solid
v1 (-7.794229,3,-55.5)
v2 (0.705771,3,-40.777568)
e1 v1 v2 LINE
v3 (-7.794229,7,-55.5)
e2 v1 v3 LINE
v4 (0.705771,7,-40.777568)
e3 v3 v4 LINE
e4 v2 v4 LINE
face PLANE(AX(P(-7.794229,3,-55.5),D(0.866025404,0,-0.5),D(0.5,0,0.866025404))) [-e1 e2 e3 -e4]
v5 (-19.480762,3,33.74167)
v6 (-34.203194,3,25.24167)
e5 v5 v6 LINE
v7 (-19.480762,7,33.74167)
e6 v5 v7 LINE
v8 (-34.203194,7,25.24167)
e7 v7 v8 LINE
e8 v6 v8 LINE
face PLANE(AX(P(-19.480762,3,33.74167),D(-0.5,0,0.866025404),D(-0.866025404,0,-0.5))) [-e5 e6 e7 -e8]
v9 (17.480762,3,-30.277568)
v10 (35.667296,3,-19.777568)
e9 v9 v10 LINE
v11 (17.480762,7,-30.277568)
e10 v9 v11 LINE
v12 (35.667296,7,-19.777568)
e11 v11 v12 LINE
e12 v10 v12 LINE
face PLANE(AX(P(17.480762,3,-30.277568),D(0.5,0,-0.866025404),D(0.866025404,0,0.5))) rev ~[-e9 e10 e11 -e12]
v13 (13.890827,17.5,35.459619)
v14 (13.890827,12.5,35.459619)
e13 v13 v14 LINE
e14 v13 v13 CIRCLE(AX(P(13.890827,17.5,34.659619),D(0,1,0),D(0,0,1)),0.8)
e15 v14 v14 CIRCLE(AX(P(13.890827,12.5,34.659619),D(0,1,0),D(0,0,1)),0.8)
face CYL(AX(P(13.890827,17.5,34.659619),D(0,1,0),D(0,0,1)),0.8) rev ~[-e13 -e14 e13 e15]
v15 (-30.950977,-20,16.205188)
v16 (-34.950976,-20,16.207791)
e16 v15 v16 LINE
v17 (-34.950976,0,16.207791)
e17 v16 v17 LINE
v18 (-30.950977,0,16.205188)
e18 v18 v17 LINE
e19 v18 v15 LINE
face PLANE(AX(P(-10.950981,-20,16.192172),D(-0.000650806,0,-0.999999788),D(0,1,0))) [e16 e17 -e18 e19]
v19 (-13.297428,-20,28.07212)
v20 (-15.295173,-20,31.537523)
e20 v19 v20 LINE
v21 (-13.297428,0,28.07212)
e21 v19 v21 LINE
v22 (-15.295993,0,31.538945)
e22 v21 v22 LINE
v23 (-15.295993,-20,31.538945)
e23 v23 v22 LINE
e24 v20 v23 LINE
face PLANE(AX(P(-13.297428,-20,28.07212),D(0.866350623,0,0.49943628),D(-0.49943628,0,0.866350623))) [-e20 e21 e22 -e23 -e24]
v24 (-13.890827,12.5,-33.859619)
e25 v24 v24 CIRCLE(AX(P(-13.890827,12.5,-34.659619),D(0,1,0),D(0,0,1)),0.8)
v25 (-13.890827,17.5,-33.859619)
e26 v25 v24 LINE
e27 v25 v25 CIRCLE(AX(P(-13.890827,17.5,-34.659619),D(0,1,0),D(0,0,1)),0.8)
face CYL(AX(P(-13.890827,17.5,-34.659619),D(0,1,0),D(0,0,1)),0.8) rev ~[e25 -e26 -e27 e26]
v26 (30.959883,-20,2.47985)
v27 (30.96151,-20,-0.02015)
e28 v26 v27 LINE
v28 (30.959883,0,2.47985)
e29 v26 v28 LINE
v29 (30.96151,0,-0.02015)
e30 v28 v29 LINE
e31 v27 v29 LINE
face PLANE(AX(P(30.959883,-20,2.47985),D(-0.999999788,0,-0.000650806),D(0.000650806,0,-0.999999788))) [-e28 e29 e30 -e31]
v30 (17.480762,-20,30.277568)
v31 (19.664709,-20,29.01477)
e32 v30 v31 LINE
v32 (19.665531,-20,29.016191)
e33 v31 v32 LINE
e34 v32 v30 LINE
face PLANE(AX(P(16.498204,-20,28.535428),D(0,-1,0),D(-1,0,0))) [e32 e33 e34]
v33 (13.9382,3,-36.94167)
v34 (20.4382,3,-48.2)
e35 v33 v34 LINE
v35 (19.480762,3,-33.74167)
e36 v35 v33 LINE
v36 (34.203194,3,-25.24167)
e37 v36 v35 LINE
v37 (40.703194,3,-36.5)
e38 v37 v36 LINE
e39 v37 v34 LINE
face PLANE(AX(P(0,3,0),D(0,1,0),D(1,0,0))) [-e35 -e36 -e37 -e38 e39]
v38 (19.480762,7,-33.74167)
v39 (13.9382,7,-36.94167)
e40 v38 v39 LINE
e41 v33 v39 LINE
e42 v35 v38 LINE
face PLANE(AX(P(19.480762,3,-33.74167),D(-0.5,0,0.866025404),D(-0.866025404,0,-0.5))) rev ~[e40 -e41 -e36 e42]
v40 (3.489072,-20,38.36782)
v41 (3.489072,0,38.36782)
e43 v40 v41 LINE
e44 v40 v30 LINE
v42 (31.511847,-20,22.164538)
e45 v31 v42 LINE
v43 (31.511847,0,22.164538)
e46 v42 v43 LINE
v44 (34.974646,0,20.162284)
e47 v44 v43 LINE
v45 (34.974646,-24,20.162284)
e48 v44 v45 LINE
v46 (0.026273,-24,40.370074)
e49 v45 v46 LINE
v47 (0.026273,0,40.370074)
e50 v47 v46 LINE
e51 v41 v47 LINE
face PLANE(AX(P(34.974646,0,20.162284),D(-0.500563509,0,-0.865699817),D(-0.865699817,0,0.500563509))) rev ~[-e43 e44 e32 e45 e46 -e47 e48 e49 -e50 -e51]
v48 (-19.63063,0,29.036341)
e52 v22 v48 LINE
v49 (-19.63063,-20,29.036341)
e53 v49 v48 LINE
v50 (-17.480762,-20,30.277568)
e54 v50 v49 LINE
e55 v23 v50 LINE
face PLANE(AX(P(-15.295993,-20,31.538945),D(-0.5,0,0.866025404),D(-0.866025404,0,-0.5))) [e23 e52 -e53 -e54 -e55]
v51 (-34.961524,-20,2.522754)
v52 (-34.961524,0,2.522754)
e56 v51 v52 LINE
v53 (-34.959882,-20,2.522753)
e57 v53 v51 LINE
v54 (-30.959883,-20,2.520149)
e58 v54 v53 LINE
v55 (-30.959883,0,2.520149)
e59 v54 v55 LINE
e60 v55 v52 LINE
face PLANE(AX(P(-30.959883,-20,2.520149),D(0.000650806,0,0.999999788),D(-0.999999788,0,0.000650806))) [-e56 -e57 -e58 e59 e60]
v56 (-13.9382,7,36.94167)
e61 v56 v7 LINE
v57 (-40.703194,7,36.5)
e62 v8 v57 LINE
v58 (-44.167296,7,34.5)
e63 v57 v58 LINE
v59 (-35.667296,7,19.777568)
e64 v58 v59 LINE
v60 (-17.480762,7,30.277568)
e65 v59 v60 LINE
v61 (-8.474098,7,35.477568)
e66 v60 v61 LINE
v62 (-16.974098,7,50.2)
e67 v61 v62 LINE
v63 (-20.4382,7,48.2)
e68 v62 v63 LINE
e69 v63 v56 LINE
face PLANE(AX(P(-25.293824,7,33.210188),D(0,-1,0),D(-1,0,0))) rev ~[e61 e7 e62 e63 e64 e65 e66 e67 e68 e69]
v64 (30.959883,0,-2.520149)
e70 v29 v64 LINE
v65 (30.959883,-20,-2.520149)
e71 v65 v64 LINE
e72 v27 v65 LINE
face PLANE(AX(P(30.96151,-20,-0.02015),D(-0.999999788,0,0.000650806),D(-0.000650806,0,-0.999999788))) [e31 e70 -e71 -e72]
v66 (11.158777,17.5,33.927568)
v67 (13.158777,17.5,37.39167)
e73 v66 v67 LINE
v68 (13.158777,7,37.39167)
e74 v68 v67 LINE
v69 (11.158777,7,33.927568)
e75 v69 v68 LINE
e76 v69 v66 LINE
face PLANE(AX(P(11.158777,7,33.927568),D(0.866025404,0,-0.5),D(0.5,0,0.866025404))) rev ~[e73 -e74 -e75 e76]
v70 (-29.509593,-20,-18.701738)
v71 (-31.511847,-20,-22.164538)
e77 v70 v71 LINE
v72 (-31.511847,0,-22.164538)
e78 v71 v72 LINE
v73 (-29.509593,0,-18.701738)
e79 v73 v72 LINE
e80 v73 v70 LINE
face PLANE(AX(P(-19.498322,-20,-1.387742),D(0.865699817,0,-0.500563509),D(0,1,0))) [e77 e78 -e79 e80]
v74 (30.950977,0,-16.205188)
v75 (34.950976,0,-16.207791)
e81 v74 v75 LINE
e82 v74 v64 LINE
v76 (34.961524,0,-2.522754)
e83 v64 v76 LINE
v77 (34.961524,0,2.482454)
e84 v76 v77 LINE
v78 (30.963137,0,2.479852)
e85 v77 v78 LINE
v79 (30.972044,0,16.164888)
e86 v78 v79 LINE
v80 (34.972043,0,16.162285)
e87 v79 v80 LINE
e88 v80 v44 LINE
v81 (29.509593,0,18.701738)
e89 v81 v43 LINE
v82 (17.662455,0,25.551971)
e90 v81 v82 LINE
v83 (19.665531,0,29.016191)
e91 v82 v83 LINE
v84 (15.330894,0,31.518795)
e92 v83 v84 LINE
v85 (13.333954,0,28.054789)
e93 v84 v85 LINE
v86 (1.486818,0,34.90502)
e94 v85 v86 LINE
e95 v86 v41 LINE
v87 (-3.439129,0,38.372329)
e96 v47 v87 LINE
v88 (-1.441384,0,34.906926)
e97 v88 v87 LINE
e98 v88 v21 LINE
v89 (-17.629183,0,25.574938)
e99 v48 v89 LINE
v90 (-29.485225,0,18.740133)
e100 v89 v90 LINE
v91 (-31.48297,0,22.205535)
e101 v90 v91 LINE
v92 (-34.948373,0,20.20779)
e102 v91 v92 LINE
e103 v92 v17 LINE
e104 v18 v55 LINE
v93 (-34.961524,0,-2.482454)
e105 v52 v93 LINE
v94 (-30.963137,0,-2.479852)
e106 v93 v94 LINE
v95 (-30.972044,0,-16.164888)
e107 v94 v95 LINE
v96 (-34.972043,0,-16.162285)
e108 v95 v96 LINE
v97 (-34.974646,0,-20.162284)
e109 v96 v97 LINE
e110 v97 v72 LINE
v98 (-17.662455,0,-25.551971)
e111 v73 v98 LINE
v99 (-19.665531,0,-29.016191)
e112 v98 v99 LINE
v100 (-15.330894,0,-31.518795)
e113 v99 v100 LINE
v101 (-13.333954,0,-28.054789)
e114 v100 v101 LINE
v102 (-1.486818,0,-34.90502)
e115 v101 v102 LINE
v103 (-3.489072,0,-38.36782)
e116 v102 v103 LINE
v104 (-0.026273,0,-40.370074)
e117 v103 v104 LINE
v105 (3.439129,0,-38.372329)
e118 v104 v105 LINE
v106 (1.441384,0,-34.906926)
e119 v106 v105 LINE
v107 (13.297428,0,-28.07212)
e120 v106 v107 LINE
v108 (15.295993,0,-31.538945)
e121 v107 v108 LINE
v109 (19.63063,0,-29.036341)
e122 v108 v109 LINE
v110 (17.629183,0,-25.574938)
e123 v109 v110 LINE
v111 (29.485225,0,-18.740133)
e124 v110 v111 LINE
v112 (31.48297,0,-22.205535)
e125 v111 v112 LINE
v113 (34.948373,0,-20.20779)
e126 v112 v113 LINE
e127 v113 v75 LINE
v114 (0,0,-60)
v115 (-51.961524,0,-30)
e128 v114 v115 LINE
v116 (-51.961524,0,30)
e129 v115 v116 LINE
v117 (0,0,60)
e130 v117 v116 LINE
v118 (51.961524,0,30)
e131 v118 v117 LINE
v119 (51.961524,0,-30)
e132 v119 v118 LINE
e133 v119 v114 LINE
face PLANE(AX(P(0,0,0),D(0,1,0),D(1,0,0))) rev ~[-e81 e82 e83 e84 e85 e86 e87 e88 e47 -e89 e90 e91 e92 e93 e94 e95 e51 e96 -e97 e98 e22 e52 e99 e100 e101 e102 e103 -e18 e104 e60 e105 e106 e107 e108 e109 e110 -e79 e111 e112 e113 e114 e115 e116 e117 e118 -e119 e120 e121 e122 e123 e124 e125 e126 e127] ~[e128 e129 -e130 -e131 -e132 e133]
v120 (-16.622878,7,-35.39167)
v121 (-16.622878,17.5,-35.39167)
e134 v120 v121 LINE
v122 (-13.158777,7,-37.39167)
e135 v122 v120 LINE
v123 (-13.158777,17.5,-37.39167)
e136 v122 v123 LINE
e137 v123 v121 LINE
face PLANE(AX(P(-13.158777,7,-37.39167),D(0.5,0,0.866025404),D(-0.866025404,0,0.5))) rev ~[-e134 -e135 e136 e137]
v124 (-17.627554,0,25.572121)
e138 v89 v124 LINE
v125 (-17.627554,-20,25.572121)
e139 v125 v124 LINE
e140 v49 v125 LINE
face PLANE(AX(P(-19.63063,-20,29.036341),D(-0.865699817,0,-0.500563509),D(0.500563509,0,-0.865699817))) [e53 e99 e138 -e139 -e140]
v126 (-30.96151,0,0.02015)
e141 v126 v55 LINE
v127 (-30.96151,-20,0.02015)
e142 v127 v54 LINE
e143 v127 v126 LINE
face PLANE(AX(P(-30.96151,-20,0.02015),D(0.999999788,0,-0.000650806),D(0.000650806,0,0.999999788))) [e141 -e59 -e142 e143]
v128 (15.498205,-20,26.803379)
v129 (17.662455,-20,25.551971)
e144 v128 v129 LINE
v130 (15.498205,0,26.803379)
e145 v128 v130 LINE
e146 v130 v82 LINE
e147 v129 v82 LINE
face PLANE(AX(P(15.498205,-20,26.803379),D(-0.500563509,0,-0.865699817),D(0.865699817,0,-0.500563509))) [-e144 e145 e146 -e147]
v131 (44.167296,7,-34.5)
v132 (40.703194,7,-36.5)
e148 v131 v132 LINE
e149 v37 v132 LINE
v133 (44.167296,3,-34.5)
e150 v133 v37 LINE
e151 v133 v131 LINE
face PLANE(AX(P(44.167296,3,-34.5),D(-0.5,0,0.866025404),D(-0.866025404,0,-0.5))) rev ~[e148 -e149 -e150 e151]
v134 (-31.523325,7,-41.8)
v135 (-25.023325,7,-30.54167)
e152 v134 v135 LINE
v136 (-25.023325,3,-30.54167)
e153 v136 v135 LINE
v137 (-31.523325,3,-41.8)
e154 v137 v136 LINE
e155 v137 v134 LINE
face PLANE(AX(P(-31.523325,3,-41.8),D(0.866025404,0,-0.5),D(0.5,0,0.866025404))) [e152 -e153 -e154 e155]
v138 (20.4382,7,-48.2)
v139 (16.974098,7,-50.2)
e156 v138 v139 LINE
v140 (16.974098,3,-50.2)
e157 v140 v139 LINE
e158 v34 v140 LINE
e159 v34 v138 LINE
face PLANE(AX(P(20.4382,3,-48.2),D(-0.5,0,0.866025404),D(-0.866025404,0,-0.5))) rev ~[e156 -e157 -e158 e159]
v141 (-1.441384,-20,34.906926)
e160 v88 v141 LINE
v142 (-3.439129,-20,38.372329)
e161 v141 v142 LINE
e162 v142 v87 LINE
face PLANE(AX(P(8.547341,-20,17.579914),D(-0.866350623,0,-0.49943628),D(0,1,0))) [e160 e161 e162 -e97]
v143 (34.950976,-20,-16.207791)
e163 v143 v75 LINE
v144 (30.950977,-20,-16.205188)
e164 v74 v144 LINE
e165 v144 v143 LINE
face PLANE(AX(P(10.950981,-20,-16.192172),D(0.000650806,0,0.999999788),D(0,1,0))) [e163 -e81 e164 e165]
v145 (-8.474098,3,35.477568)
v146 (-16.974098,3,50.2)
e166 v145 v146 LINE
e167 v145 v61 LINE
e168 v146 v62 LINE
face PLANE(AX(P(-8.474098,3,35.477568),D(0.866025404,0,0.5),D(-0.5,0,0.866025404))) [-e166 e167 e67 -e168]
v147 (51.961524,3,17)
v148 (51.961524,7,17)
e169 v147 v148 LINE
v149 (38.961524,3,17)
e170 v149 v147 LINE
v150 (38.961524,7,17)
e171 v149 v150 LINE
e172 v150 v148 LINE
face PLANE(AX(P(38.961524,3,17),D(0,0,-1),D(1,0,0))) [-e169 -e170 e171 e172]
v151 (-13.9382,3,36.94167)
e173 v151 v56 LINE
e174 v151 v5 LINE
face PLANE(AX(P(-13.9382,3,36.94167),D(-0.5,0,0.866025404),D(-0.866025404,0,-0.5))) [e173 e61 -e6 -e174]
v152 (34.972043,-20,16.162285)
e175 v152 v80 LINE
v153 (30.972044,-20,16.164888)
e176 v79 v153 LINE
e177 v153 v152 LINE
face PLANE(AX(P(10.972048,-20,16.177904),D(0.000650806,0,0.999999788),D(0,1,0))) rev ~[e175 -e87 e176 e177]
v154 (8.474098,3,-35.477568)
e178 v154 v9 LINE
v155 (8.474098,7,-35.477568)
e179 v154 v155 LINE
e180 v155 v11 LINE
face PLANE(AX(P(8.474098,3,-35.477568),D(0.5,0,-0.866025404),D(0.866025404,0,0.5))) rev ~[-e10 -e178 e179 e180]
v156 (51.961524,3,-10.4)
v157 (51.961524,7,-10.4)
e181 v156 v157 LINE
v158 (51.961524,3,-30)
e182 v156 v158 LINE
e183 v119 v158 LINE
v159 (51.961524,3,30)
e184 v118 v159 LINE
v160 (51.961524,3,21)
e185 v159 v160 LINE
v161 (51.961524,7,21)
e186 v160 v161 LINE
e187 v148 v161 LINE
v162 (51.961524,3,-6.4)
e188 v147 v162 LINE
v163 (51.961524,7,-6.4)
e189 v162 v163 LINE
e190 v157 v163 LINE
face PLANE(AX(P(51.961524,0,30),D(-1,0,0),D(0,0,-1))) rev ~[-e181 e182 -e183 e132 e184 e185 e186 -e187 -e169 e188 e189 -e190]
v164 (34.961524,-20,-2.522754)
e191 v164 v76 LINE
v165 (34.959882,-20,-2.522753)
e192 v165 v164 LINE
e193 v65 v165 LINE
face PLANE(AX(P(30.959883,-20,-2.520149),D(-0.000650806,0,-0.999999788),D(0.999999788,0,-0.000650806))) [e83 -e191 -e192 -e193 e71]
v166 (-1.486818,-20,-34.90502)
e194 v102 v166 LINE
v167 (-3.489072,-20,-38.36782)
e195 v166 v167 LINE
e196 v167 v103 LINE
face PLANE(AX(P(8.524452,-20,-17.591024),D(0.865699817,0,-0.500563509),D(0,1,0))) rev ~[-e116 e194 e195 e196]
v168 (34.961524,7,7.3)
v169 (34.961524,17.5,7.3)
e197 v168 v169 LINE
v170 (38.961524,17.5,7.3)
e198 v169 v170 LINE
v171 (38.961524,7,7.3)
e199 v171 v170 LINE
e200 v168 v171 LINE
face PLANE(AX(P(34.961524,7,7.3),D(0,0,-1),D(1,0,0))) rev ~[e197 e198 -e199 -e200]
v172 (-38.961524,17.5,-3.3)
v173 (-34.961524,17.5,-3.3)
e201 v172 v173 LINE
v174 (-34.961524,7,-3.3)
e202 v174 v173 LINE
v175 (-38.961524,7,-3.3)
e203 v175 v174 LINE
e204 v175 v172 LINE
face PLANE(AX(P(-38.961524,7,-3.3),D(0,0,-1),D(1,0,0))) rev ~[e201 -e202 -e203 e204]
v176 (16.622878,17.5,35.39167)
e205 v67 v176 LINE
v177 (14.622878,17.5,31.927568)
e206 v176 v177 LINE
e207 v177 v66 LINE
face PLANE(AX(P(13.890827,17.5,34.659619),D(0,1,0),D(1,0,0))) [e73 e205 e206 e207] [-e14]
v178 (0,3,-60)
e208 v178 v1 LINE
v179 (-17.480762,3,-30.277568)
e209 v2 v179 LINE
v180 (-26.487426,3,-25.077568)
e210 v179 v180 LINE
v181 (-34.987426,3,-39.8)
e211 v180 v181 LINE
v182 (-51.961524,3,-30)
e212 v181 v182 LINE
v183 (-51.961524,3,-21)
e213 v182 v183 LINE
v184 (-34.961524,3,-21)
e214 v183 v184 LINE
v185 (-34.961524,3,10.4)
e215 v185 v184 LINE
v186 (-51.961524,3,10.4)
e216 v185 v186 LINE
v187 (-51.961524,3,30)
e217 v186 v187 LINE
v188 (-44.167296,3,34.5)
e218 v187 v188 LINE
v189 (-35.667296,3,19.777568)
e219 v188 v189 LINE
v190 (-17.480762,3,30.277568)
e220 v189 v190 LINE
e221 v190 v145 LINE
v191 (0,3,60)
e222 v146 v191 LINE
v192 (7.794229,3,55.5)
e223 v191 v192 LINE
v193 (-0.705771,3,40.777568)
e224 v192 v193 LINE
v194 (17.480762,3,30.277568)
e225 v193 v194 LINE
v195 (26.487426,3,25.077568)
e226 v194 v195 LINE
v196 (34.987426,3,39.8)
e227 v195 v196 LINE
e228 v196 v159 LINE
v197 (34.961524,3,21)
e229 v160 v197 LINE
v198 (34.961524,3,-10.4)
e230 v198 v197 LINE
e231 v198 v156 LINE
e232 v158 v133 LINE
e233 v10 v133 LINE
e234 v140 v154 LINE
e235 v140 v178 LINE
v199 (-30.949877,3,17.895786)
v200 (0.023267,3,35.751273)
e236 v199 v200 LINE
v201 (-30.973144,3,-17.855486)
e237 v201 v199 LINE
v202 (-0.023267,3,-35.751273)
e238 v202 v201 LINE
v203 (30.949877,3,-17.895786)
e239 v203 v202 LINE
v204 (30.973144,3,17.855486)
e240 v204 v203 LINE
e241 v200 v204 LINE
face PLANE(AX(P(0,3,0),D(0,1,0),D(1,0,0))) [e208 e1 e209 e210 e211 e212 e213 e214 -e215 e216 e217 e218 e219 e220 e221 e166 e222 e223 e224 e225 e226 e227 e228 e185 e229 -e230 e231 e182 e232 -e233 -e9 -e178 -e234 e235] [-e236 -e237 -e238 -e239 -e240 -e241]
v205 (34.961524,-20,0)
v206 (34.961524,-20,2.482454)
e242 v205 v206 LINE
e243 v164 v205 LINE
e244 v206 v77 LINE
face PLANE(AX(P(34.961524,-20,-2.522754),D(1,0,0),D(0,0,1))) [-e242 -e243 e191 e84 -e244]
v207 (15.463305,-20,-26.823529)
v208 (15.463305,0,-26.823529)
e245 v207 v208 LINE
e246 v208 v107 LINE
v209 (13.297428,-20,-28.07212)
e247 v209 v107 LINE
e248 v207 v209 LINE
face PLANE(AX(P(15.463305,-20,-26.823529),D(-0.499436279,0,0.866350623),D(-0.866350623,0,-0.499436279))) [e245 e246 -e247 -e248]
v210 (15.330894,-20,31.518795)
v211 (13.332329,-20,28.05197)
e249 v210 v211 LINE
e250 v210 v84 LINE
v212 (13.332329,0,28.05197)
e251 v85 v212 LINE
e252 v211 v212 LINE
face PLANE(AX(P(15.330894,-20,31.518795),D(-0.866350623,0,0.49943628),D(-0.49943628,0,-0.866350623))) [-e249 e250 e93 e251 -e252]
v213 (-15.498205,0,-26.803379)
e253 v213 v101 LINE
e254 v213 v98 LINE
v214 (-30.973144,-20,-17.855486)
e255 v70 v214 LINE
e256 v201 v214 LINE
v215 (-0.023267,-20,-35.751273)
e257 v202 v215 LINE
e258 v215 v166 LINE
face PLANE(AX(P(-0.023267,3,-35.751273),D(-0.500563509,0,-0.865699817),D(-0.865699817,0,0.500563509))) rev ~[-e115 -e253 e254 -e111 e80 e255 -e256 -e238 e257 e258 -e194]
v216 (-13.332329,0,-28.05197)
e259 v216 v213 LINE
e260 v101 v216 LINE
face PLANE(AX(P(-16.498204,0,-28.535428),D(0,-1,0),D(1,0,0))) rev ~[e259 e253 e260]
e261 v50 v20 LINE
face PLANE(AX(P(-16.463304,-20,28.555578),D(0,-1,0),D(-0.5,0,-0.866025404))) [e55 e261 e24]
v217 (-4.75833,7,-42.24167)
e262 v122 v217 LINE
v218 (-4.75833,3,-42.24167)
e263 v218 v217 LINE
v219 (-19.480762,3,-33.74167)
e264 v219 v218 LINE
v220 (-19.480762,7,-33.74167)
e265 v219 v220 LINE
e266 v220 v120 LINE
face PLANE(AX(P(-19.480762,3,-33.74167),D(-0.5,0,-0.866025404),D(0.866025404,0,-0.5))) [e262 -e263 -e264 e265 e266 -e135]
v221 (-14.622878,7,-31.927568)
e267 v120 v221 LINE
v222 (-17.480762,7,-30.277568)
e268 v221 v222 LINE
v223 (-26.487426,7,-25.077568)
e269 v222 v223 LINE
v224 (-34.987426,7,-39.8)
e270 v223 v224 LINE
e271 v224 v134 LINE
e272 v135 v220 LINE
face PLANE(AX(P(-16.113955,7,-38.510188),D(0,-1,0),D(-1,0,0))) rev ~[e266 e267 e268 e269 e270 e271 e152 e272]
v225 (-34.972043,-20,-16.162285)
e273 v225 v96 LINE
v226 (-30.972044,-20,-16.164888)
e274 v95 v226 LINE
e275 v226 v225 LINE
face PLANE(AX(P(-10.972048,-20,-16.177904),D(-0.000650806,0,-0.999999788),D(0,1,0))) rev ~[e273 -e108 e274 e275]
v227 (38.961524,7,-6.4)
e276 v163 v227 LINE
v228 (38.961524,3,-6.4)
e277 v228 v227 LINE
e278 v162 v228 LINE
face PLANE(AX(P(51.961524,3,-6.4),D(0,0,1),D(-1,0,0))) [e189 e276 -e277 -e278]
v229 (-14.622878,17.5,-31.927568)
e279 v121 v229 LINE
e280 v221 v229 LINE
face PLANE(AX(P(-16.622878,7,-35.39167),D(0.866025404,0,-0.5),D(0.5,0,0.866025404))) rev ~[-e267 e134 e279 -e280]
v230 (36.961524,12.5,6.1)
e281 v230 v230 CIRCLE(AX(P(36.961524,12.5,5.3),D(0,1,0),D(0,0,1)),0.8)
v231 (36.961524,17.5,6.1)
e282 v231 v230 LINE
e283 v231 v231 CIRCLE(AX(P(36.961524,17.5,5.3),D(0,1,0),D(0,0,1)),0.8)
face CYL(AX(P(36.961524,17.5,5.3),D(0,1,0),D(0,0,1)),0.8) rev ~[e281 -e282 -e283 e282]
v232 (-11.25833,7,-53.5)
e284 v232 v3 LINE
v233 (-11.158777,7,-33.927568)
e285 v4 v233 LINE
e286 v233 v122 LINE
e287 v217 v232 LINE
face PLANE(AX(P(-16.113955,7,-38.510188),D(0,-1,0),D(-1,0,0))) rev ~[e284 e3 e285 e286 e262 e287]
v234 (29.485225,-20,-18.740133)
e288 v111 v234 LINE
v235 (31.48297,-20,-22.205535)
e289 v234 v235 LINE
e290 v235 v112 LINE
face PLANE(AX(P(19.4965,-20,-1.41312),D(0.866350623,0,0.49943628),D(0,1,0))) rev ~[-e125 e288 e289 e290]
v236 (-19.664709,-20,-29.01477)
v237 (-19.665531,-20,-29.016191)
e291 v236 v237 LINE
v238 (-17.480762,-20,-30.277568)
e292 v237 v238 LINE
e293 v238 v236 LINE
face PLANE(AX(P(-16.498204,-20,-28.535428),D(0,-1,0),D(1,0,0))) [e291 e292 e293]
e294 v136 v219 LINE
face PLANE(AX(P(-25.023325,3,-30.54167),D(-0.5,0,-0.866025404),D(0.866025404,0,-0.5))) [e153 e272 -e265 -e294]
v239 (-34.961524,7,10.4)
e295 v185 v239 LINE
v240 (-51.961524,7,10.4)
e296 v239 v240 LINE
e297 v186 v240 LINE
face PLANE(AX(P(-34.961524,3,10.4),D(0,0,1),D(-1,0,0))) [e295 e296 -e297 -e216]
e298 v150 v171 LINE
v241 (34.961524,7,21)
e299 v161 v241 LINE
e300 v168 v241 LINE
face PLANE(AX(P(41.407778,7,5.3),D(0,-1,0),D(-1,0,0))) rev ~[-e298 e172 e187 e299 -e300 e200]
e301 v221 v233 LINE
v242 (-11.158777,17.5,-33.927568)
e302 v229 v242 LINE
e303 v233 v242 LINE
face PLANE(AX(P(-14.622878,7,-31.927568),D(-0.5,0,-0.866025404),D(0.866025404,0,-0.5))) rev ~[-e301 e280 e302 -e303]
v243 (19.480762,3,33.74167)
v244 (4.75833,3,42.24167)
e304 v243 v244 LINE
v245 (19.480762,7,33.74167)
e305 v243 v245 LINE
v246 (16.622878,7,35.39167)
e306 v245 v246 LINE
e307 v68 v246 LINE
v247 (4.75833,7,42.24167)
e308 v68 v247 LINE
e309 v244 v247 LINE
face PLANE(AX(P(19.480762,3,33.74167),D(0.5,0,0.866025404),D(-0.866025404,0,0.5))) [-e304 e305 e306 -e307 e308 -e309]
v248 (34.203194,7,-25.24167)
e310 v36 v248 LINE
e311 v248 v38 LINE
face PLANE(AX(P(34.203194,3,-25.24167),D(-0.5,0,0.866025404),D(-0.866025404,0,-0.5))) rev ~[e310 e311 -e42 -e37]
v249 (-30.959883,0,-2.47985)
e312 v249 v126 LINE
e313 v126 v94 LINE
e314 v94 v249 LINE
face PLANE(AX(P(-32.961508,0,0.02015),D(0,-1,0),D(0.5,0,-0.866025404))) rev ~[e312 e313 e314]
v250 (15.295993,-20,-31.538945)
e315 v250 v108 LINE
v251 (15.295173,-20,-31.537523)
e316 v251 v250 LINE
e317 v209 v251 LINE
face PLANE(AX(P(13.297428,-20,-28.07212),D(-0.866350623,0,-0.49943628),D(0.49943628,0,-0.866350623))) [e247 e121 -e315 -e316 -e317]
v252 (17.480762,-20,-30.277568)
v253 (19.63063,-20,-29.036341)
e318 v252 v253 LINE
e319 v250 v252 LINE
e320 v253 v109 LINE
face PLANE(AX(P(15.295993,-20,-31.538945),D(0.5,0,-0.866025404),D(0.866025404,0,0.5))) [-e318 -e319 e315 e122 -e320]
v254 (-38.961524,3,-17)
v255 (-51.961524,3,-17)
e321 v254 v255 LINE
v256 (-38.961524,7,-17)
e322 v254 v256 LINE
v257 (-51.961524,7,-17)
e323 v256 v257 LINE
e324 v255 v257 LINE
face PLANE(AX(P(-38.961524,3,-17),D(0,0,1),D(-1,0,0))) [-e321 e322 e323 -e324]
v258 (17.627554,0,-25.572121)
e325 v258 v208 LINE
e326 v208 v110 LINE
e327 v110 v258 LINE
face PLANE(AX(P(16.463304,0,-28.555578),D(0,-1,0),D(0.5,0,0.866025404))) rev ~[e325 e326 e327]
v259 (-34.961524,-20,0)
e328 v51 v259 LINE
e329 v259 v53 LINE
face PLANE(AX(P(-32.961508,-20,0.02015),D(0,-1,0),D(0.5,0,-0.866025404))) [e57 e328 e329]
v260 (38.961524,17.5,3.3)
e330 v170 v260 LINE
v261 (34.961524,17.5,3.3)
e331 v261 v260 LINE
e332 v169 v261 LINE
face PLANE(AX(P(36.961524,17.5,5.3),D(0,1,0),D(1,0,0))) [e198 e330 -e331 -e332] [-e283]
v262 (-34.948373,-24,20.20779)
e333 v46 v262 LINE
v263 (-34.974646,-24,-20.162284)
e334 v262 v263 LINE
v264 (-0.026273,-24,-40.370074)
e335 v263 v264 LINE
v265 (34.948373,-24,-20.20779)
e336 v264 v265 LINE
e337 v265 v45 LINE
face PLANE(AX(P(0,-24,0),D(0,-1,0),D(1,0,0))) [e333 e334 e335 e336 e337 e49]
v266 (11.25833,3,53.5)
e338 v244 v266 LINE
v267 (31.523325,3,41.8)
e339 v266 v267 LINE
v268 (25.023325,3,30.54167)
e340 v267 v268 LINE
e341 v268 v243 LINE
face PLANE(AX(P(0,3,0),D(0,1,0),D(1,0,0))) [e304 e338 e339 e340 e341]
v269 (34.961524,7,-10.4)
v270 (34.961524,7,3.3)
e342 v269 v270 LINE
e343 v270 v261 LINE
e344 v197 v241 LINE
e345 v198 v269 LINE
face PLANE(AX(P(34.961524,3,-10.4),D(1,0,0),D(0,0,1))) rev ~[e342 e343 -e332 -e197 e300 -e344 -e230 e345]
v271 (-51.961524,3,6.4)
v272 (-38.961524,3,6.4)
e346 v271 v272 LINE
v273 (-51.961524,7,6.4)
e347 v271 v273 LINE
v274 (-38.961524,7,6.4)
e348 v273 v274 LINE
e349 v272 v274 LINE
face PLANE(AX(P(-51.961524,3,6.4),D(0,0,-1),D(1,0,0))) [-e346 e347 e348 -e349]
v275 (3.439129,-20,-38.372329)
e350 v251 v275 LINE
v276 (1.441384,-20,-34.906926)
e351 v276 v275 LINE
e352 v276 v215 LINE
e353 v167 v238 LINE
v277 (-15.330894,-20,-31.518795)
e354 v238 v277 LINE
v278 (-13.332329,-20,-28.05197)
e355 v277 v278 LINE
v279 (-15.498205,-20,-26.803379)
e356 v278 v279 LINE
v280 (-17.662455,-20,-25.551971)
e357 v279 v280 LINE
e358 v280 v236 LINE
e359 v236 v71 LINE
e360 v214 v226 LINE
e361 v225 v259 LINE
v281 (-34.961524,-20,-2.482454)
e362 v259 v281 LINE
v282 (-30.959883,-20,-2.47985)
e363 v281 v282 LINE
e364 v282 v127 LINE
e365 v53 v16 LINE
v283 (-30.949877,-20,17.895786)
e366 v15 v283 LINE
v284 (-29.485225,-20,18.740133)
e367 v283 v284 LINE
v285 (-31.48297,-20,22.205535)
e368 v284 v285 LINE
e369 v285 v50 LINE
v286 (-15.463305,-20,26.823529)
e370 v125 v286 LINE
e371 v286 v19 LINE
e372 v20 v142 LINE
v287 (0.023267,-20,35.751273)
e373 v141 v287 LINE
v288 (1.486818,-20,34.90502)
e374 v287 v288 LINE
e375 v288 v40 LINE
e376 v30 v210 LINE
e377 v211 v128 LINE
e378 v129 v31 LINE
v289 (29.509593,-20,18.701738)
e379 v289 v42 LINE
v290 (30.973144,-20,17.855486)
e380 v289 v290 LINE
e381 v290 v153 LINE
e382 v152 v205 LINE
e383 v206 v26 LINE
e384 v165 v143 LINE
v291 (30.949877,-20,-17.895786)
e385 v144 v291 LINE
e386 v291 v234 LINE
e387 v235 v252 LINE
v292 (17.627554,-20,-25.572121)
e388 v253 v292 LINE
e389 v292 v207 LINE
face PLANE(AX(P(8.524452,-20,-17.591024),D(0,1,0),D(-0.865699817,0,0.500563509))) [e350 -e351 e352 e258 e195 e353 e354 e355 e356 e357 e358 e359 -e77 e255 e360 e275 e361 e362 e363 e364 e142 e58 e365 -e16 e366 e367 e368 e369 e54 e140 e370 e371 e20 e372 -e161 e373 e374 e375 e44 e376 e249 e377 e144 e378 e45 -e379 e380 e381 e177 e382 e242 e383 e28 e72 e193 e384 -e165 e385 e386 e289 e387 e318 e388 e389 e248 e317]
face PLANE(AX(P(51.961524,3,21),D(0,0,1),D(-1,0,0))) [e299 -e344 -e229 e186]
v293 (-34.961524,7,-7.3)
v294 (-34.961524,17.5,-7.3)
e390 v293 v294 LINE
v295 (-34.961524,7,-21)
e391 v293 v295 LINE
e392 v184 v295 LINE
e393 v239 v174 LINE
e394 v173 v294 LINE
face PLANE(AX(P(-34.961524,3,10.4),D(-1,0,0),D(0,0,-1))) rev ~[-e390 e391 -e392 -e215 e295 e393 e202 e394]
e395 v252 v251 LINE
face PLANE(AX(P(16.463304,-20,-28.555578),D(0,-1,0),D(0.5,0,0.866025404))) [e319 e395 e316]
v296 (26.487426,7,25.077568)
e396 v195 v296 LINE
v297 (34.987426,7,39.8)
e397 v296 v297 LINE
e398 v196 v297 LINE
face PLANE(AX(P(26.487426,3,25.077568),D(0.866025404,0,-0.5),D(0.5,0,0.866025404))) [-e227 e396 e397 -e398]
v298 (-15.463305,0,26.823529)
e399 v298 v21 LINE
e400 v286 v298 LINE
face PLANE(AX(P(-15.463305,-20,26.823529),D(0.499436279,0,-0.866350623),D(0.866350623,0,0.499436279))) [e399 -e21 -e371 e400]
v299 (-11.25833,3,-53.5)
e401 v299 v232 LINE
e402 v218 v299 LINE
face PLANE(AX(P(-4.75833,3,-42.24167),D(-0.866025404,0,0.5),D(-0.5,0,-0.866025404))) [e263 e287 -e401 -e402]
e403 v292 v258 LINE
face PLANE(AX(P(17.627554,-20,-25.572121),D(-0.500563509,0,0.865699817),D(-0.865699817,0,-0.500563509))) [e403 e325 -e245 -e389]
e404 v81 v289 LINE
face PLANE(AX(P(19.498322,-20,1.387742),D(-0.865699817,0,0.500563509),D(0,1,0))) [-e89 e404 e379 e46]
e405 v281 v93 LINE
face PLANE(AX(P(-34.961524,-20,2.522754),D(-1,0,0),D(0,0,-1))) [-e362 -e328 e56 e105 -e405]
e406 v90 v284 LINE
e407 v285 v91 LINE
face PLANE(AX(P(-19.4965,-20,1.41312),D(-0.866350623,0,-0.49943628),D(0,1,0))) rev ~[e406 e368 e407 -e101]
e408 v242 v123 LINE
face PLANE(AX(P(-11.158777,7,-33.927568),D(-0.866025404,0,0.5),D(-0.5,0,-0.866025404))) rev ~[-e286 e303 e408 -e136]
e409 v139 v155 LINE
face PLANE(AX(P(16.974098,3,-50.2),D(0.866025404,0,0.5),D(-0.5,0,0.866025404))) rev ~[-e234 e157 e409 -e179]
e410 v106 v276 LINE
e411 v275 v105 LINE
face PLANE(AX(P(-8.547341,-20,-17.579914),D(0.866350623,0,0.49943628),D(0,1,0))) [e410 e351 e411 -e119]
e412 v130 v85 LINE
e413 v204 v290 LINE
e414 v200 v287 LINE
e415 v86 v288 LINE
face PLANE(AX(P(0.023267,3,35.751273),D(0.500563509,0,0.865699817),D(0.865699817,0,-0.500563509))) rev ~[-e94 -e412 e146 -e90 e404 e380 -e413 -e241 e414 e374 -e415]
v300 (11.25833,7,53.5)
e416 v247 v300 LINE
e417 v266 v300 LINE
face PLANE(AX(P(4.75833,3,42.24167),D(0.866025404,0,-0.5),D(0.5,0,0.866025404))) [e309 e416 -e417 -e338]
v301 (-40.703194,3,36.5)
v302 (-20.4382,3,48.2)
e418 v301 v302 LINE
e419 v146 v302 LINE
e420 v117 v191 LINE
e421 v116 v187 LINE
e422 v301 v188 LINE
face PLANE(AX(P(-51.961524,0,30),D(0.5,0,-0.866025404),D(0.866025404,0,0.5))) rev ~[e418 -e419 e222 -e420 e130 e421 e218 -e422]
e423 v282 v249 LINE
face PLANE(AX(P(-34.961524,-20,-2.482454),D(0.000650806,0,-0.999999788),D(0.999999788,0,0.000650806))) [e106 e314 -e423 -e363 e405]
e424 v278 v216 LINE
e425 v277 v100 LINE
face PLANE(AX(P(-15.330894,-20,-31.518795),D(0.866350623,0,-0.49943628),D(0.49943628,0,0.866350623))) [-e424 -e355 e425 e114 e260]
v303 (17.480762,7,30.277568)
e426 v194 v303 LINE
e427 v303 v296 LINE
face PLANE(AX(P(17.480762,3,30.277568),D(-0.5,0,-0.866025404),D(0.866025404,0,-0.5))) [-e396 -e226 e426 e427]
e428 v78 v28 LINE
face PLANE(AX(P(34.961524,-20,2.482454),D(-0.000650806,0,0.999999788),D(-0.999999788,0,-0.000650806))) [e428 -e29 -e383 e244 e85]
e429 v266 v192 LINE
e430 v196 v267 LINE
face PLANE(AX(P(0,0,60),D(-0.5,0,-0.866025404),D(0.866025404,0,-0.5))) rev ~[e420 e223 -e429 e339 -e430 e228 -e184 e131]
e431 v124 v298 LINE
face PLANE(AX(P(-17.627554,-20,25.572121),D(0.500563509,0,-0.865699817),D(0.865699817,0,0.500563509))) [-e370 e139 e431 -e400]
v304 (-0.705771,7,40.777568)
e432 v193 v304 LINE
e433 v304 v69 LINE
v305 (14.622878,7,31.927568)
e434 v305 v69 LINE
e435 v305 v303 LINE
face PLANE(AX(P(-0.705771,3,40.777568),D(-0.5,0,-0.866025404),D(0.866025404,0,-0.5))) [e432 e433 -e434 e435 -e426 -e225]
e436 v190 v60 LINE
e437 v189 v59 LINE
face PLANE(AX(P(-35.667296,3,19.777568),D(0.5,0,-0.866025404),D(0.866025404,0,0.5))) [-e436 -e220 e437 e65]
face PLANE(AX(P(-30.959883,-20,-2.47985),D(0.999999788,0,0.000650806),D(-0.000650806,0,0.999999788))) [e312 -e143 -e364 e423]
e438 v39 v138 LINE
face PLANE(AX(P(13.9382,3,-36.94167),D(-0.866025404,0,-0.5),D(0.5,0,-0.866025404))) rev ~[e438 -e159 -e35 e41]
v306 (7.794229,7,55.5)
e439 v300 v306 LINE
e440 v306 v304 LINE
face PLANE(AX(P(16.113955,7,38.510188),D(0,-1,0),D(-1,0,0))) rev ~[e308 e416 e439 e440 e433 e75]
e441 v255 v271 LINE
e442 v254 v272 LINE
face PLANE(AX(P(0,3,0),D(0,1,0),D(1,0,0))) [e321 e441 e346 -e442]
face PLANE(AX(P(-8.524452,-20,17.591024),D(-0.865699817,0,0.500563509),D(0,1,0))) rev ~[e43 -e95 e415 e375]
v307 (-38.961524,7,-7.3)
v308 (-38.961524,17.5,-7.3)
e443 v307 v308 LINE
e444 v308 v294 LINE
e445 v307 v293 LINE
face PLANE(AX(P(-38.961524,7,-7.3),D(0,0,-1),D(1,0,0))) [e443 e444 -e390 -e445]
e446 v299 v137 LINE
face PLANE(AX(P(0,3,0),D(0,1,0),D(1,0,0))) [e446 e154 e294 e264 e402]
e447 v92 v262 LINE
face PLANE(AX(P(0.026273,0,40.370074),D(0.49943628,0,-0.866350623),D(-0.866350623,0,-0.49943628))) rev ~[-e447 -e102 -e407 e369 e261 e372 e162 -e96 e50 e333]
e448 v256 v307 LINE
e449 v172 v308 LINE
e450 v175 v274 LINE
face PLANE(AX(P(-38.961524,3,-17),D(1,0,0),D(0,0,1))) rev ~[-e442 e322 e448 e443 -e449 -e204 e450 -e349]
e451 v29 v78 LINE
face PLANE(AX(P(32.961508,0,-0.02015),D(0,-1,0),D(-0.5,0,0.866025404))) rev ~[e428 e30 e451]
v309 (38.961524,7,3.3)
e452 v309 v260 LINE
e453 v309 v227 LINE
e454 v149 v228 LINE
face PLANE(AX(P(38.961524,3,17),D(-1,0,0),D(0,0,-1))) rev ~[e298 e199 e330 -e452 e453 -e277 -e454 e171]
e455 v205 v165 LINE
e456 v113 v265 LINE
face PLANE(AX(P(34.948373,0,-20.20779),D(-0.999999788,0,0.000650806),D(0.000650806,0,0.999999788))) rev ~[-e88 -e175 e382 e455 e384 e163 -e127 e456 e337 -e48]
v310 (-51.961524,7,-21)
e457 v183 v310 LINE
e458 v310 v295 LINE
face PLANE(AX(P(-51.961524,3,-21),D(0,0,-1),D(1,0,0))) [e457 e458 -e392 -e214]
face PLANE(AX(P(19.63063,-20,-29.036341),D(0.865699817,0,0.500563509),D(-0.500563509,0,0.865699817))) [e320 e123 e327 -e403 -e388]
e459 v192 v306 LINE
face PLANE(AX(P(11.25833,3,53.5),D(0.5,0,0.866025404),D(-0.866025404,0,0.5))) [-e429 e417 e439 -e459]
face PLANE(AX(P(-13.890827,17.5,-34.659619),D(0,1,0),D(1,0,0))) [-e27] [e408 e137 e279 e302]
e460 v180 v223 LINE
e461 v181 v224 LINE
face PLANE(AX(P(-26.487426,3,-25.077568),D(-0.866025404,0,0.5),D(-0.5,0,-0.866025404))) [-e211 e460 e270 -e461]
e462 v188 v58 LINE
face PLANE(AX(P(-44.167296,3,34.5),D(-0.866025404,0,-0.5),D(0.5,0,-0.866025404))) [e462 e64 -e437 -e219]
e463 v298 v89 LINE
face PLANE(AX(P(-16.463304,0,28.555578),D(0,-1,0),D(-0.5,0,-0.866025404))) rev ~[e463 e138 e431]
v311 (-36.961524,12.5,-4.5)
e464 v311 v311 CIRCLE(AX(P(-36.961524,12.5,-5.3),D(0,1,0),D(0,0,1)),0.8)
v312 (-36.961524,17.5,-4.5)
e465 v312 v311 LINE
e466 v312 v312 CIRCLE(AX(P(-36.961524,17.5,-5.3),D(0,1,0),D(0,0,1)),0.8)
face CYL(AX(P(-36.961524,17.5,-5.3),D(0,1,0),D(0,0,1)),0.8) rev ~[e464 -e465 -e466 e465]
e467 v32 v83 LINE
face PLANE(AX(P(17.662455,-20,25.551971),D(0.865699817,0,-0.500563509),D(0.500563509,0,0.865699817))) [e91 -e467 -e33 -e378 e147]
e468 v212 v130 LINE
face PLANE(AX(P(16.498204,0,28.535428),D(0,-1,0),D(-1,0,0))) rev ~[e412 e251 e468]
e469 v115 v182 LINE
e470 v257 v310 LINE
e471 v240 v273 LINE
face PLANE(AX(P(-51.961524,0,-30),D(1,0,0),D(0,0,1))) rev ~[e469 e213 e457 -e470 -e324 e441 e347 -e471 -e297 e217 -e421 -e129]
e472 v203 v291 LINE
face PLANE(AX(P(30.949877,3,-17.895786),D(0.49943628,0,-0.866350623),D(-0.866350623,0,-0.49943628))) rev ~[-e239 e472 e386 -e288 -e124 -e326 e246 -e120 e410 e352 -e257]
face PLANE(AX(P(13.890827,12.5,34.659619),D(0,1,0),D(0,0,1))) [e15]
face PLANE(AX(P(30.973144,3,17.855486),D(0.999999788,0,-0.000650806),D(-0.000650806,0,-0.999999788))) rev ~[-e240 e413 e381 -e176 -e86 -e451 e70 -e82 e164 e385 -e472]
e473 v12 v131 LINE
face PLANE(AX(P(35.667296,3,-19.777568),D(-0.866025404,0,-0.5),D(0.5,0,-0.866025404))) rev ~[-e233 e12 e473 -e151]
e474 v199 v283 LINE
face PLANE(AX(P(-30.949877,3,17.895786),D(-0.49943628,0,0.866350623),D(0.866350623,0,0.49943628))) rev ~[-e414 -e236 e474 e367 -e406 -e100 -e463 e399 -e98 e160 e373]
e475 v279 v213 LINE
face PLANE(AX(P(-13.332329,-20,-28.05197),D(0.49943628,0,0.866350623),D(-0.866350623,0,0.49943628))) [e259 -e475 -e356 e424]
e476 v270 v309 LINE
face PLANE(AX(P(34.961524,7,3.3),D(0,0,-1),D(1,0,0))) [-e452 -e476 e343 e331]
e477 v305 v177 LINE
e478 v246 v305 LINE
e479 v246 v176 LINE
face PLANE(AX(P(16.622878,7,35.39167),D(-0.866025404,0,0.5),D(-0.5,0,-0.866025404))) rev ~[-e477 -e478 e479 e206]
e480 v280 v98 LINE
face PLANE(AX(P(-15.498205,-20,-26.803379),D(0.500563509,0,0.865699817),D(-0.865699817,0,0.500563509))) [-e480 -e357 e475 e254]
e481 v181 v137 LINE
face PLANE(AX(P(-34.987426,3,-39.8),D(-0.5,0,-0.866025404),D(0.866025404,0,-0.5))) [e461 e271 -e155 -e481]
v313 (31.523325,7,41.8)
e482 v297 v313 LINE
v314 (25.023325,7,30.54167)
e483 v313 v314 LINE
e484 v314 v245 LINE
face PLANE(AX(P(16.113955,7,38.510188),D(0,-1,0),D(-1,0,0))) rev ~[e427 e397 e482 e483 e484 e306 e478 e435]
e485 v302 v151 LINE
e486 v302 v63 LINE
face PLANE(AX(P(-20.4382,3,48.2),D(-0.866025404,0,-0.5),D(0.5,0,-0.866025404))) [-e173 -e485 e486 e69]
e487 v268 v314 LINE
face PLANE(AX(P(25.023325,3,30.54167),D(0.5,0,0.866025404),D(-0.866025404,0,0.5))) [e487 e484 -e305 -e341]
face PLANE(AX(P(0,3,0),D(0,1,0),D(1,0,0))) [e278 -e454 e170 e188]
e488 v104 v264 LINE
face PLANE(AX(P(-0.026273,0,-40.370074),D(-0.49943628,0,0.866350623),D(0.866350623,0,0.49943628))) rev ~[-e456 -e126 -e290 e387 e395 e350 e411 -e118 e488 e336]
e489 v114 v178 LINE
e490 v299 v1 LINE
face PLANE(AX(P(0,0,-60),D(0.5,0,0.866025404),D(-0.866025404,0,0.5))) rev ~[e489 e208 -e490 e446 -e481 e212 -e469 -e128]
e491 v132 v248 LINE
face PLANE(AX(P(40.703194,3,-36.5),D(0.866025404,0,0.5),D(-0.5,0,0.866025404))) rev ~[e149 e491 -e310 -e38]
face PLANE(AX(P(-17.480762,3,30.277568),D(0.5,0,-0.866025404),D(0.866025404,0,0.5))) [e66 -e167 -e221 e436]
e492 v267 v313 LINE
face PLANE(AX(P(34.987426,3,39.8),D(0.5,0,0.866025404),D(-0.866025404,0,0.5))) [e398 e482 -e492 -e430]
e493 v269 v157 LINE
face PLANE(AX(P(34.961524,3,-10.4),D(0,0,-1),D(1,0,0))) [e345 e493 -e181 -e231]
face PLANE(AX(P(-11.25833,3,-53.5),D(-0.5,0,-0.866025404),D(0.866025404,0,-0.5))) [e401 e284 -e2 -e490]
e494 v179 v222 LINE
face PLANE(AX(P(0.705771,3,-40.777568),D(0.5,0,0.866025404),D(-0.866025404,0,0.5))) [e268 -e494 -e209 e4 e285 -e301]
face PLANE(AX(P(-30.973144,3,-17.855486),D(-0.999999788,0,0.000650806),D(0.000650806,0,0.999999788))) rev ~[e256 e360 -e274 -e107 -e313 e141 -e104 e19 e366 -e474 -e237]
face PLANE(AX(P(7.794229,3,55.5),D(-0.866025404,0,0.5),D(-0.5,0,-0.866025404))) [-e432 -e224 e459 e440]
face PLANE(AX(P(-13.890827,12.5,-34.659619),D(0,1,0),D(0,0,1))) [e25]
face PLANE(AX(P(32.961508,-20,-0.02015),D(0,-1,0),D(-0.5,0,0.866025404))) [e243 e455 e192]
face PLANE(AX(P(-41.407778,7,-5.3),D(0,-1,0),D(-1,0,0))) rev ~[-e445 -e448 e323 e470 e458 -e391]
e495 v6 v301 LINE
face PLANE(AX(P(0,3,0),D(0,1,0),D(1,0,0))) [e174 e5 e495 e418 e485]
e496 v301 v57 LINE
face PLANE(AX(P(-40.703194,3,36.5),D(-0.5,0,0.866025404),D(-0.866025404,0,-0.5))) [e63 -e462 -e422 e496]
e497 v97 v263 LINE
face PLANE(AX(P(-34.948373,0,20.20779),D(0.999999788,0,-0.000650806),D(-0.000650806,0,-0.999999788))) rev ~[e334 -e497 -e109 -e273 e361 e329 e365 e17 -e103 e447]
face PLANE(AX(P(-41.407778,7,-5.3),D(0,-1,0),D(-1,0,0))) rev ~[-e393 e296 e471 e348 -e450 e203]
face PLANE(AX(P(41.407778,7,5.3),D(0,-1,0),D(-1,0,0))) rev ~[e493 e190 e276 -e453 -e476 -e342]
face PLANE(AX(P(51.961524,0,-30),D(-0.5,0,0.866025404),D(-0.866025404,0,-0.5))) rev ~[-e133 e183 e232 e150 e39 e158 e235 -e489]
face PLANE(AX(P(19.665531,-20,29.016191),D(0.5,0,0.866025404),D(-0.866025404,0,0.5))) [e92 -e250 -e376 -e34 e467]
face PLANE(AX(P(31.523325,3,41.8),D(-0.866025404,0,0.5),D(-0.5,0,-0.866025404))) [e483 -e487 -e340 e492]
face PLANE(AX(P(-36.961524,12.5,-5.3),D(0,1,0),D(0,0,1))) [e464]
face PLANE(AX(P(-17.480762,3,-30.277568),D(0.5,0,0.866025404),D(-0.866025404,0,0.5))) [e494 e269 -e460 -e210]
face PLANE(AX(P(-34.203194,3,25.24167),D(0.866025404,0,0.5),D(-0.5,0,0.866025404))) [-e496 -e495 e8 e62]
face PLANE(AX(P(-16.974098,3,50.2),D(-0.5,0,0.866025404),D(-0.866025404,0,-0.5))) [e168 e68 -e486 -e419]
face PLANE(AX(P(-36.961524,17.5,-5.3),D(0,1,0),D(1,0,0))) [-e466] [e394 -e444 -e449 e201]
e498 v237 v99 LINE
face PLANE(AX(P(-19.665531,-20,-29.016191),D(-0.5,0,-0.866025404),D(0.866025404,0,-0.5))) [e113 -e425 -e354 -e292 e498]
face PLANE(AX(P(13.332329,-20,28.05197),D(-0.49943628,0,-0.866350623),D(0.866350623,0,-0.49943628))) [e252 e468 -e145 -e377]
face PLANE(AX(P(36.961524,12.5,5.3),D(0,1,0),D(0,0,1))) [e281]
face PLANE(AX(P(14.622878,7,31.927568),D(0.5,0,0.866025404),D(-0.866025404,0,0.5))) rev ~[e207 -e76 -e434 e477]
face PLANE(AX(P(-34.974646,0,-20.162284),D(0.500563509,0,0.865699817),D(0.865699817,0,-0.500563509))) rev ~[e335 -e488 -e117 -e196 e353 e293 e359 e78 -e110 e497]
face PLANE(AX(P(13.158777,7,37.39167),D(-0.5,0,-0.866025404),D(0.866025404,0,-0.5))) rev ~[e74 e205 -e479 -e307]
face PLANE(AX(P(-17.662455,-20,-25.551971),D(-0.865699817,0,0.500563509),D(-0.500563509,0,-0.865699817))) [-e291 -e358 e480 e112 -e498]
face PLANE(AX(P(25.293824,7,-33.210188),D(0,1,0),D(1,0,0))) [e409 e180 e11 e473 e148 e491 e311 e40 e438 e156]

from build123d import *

# Parameters (mm, degrees)
BOSS_EXTRUDE1_DEPTH  = 3
BOSS_EXTRUDE2_DEPTH  = 4
SKETCH5_W            = 4
SKETCH5_H            = 4
BOSS_EXTRUDE3_DEPTH  = 10.5
SKETCH7_R            = 2.4
BOSS_EXTRUDE4_DEPTH  = 3
SKETCH9_R            = 0.8
CUT_EXTRUDE6_DEPTH   = 5
BOSS_EXTRUDE10_DEPTH = 24
CUT_EXTRUDE7_DEPTH   = 23
CUT_EXTRUDE10_START  = -24
SKETCH24_W           = 32.370082298
SKETCH24_H           = 20
CUT_EXTRUDE10_DEPTH  = 133.325180249
CIRPATTERN1_COUNT    = 6
BOSS_EXTRUDE11_DEPTH = 20
CIRPATTERN2_COUNT    = 6


with BuildPart() as part:
    # Sketch1 → Boss-Extrude1 (new body)
    with BuildSketch(Plane(origin=(0, 0, 0), x_dir=(1, 0, 0), z_dir=(0, 1, 0))):
        Polygon((0, 60), (-51.961524227, 30), (-51.961524227, -30), (0, -60), (51.961524227, -30), (51.961524227, 30), align=None)
    extrude(amount=BOSS_EXTRUDE1_DEPTH)

    # Sketch2 → Boss-Extrude2 (add)
    with BuildSketch(Plane(origin=(0, 3, 0), x_dir=(1, 0, 0), z_dir=(0, 1, 0))):
        Polygon((35.667295593, 19.777568136), (44.167295593, 34.5), (40.703193978, 36.5), (34.203193978, 25.241669751), (19.480762114, 33.741669751), (13.938199529, 36.941669751), (20.438199529, 48.2), (16.974097914, 50.2), (8.474097914, 35.477568136), (17.480762114, 30.277568136), align=None)
        Polygon((51.961524227, -17), (51.961524227, -21), (34.961524227, -21), (34.961524227, 0), (34.961524227, 10.4), (51.961524227, 10.4), (51.961524227, 6.4), (38.961524227, 6.4), (38.961524227, 0), (38.961524227, -17), align=None)
        Polygon((11.258330249, -53.5), (7.794228634, -55.5), (-0.705771366, -40.777568136), (17.480762114, -30.277568136), (26.487426313, -25.077568136), (34.987426313, -39.8), (31.523324698, -41.8), (25.023324698, -30.541669751), (19.480762114, -33.741669751), (4.758330249, -42.241669751), align=None)
        Polygon((-40.703193978, -36.5), (-44.167295593, -34.5), (-35.667295593, -19.777568136), (-17.480762114, -30.277568136), (-8.474097914, -35.477568136), (-16.974097914, -50.2), (-20.438199529, -48.2), (-13.938199529, -36.941669751), (-19.480762114, -33.741669751), (-34.203193978, -25.241669751), align=None)
        Polygon((-51.961524227, 17), (-51.961524227, 21), (-34.961524227, 21), (-34.961524227, 0), (-34.961524227, -10.4), (-51.961524227, -10.4), (-51.961524227, -6.4), (-38.961524227, -6.4), (-38.961524227, 0), (-38.961524227, 17), align=None)
        Polygon((-11.258330249, 53.5), (-7.794228634, 55.5), (0.705771366, 40.777568136), (-17.480762114, 30.277568136), (-26.487426313, 25.077568136), (-34.987426313, 39.8), (-31.523324698, 41.8), (-25.023324698, 30.541669751), (-19.480762114, 33.741669751), (-4.758330249, 42.241669751), align=None)
    extrude(amount=BOSS_EXTRUDE2_DEPTH)

    # Sketch5 → Boss-Extrude3 (add)
    with BuildSketch(Plane(origin=(0, 7, 0), x_dir=(1, 0, 0), z_dir=(0, 1, 0))):
        with Locations((36.961524227, -5.3)):
            Rectangle(SKETCH5_W, SKETCH5_H)
        Polygon((14.622878281, -31.927568136), (11.158776666, -33.927568136), (13.158776666, -37.391669751), (16.622878281, -35.391669751), align=None)
        with Locations((-36.961524227, 5.3)):
            Rectangle(SKETCH5_W, SKETCH5_H)
        Polygon((-14.622878281, 31.927568136), (-11.158776666, 33.927568136), (-13.158776666, 37.391669751), (-16.622878281, 35.391669751), align=None)
    extrude(amount=BOSS_EXTRUDE3_DEPTH)

    # Sketch7 → Boss-Extrude4 (add)
    with BuildSketch(Plane.XZ):
        with Locations((22.730762114, 39.370834875)):
            Circle(SKETCH7_R)
        with Locations((45.461524227, 0)):
            Circle(SKETCH7_R)
        with Locations((22.730762114, -39.370834875)):
            Circle(SKETCH7_R)
        with Locations((-22.730762114, -39.370834875)):
            Circle(SKETCH7_R)
        with Locations((-45.461524227, 0)):
            Circle(SKETCH7_R)
        with Locations((-22.730762114, 39.370834875)):
            Circle(SKETCH7_R)
    extrude(amount=BOSS_EXTRUDE4_DEPTH)

    # Sketch9 → Cut-Extrude6 (cut)
    with BuildSketch(Plane(origin=(0, 17.5, 0), x_dir=(1, 0, 0), z_dir=(0, 1, 0))):
        with Locations((-36.961524227, 5.3)):
            Circle(SKETCH9_R)
        with Locations((-13.890827473, 34.659618943)):
            Circle(SKETCH9_R)
        with Locations((23.070696754, 29.359618943)):
            Circle(SKETCH9_R)
        with Locations((36.961524227, -5.3)):
            Circle(SKETCH9_R)
        with Locations((13.890827473, -34.659618943)):
            Circle(SKETCH9_R)
        with Locations((-23.070696754, -29.359618943)):
            Circle(SKETCH9_R)
    extrude(amount=-CUT_EXTRUDE6_DEPTH, mode=Mode.SUBTRACT)

    # Sketch22 → Boss-Extrude10 (add)
    with BuildSketch(Plane.XZ):
        Polygon((-34.948372872, 20.207790041), (-34.974645966, -20.162283708), (-0.026273093, -40.370073749), (34.948372872, -20.207790041), (34.974645966, 20.162283708), (0.026273093, 40.370073749), align=None)
    extrude(amount=BOSS_EXTRUDE10_DEPTH)

    # Sketch23 → Cut-Extrude7 (cut)
    with BuildSketch(Plane(origin=(0, 3, 0), x_dir=(1, 0, 0), z_dir=(0, 1, 0))):
        Polygon((-0.023267149, 35.751272573), (-30.973143841, 17.855486345), (-30.949876692, -17.895786229), (0.023267149, -35.751272573), (30.973143841, -17.855486345), (30.949876692, 17.895786229), align=None)
    extrude(amount=-CUT_EXTRUDE7_DEPTH, mode=Mode.SUBTRACT)

    # Sketch24 → Cut-Extrude10 (cut)
    with BuildSketch(Plane(origin=(34.961509419, 0, -0.022753166), x_dir=(-0.0006508060386860347, 0, -0.9999997882257277), z_dir=(0.9999997882257275, 0, -0.0006508060386860346)).offset(CUT_EXTRUDE10_START)):
        with Locations((0, -10)):
            Rectangle(SKETCH24_W, SKETCH24_H)
    cut_extrude10 = extrude(amount=CUT_EXTRUDE10_DEPTH, mode=Mode.SUBTRACT)

    # CirPattern1: Cut-Extrude10 ×6 about axis
    cirpattern1_axis = Axis((0, 0, 0), (0, 1, 0))
    for i in range(1, CIRPATTERN1_COUNT):
        add(cut_extrude10.rotate(cirpattern1_axis, i * 360 / CIRPATTERN1_COUNT), mode=Mode.SUBTRACT)

    # Sketch25 → Boss-Extrude11 (add)
    with BuildSketch(Plane(origin=(0, -20, 0), x_dir=(1, 0, 0), z_dir=(0, 1, 0))):
        Polygon((15.498205495, -26.803379459), (17.662455038, -25.551970687), (19.66553091, -29.016191283), (15.330894041, -31.518795046), (13.332328936, -28.051970158), align=None)
    boss_extrude11 = extrude(amount=BOSS_EXTRUDE11_DEPTH)

    # CirPattern2: Boss-Extrude11 ×6 about axis
    cirpattern2_axis = Axis((0, 0, 0), (0, 1, 0))
    for i in range(1, CIRPATTERN2_COUNT):
        add(boss_extrude11.rotate(cirpattern2_axis, i * 360 / CIRPATTERN2_COUNT))


solid = part.part
